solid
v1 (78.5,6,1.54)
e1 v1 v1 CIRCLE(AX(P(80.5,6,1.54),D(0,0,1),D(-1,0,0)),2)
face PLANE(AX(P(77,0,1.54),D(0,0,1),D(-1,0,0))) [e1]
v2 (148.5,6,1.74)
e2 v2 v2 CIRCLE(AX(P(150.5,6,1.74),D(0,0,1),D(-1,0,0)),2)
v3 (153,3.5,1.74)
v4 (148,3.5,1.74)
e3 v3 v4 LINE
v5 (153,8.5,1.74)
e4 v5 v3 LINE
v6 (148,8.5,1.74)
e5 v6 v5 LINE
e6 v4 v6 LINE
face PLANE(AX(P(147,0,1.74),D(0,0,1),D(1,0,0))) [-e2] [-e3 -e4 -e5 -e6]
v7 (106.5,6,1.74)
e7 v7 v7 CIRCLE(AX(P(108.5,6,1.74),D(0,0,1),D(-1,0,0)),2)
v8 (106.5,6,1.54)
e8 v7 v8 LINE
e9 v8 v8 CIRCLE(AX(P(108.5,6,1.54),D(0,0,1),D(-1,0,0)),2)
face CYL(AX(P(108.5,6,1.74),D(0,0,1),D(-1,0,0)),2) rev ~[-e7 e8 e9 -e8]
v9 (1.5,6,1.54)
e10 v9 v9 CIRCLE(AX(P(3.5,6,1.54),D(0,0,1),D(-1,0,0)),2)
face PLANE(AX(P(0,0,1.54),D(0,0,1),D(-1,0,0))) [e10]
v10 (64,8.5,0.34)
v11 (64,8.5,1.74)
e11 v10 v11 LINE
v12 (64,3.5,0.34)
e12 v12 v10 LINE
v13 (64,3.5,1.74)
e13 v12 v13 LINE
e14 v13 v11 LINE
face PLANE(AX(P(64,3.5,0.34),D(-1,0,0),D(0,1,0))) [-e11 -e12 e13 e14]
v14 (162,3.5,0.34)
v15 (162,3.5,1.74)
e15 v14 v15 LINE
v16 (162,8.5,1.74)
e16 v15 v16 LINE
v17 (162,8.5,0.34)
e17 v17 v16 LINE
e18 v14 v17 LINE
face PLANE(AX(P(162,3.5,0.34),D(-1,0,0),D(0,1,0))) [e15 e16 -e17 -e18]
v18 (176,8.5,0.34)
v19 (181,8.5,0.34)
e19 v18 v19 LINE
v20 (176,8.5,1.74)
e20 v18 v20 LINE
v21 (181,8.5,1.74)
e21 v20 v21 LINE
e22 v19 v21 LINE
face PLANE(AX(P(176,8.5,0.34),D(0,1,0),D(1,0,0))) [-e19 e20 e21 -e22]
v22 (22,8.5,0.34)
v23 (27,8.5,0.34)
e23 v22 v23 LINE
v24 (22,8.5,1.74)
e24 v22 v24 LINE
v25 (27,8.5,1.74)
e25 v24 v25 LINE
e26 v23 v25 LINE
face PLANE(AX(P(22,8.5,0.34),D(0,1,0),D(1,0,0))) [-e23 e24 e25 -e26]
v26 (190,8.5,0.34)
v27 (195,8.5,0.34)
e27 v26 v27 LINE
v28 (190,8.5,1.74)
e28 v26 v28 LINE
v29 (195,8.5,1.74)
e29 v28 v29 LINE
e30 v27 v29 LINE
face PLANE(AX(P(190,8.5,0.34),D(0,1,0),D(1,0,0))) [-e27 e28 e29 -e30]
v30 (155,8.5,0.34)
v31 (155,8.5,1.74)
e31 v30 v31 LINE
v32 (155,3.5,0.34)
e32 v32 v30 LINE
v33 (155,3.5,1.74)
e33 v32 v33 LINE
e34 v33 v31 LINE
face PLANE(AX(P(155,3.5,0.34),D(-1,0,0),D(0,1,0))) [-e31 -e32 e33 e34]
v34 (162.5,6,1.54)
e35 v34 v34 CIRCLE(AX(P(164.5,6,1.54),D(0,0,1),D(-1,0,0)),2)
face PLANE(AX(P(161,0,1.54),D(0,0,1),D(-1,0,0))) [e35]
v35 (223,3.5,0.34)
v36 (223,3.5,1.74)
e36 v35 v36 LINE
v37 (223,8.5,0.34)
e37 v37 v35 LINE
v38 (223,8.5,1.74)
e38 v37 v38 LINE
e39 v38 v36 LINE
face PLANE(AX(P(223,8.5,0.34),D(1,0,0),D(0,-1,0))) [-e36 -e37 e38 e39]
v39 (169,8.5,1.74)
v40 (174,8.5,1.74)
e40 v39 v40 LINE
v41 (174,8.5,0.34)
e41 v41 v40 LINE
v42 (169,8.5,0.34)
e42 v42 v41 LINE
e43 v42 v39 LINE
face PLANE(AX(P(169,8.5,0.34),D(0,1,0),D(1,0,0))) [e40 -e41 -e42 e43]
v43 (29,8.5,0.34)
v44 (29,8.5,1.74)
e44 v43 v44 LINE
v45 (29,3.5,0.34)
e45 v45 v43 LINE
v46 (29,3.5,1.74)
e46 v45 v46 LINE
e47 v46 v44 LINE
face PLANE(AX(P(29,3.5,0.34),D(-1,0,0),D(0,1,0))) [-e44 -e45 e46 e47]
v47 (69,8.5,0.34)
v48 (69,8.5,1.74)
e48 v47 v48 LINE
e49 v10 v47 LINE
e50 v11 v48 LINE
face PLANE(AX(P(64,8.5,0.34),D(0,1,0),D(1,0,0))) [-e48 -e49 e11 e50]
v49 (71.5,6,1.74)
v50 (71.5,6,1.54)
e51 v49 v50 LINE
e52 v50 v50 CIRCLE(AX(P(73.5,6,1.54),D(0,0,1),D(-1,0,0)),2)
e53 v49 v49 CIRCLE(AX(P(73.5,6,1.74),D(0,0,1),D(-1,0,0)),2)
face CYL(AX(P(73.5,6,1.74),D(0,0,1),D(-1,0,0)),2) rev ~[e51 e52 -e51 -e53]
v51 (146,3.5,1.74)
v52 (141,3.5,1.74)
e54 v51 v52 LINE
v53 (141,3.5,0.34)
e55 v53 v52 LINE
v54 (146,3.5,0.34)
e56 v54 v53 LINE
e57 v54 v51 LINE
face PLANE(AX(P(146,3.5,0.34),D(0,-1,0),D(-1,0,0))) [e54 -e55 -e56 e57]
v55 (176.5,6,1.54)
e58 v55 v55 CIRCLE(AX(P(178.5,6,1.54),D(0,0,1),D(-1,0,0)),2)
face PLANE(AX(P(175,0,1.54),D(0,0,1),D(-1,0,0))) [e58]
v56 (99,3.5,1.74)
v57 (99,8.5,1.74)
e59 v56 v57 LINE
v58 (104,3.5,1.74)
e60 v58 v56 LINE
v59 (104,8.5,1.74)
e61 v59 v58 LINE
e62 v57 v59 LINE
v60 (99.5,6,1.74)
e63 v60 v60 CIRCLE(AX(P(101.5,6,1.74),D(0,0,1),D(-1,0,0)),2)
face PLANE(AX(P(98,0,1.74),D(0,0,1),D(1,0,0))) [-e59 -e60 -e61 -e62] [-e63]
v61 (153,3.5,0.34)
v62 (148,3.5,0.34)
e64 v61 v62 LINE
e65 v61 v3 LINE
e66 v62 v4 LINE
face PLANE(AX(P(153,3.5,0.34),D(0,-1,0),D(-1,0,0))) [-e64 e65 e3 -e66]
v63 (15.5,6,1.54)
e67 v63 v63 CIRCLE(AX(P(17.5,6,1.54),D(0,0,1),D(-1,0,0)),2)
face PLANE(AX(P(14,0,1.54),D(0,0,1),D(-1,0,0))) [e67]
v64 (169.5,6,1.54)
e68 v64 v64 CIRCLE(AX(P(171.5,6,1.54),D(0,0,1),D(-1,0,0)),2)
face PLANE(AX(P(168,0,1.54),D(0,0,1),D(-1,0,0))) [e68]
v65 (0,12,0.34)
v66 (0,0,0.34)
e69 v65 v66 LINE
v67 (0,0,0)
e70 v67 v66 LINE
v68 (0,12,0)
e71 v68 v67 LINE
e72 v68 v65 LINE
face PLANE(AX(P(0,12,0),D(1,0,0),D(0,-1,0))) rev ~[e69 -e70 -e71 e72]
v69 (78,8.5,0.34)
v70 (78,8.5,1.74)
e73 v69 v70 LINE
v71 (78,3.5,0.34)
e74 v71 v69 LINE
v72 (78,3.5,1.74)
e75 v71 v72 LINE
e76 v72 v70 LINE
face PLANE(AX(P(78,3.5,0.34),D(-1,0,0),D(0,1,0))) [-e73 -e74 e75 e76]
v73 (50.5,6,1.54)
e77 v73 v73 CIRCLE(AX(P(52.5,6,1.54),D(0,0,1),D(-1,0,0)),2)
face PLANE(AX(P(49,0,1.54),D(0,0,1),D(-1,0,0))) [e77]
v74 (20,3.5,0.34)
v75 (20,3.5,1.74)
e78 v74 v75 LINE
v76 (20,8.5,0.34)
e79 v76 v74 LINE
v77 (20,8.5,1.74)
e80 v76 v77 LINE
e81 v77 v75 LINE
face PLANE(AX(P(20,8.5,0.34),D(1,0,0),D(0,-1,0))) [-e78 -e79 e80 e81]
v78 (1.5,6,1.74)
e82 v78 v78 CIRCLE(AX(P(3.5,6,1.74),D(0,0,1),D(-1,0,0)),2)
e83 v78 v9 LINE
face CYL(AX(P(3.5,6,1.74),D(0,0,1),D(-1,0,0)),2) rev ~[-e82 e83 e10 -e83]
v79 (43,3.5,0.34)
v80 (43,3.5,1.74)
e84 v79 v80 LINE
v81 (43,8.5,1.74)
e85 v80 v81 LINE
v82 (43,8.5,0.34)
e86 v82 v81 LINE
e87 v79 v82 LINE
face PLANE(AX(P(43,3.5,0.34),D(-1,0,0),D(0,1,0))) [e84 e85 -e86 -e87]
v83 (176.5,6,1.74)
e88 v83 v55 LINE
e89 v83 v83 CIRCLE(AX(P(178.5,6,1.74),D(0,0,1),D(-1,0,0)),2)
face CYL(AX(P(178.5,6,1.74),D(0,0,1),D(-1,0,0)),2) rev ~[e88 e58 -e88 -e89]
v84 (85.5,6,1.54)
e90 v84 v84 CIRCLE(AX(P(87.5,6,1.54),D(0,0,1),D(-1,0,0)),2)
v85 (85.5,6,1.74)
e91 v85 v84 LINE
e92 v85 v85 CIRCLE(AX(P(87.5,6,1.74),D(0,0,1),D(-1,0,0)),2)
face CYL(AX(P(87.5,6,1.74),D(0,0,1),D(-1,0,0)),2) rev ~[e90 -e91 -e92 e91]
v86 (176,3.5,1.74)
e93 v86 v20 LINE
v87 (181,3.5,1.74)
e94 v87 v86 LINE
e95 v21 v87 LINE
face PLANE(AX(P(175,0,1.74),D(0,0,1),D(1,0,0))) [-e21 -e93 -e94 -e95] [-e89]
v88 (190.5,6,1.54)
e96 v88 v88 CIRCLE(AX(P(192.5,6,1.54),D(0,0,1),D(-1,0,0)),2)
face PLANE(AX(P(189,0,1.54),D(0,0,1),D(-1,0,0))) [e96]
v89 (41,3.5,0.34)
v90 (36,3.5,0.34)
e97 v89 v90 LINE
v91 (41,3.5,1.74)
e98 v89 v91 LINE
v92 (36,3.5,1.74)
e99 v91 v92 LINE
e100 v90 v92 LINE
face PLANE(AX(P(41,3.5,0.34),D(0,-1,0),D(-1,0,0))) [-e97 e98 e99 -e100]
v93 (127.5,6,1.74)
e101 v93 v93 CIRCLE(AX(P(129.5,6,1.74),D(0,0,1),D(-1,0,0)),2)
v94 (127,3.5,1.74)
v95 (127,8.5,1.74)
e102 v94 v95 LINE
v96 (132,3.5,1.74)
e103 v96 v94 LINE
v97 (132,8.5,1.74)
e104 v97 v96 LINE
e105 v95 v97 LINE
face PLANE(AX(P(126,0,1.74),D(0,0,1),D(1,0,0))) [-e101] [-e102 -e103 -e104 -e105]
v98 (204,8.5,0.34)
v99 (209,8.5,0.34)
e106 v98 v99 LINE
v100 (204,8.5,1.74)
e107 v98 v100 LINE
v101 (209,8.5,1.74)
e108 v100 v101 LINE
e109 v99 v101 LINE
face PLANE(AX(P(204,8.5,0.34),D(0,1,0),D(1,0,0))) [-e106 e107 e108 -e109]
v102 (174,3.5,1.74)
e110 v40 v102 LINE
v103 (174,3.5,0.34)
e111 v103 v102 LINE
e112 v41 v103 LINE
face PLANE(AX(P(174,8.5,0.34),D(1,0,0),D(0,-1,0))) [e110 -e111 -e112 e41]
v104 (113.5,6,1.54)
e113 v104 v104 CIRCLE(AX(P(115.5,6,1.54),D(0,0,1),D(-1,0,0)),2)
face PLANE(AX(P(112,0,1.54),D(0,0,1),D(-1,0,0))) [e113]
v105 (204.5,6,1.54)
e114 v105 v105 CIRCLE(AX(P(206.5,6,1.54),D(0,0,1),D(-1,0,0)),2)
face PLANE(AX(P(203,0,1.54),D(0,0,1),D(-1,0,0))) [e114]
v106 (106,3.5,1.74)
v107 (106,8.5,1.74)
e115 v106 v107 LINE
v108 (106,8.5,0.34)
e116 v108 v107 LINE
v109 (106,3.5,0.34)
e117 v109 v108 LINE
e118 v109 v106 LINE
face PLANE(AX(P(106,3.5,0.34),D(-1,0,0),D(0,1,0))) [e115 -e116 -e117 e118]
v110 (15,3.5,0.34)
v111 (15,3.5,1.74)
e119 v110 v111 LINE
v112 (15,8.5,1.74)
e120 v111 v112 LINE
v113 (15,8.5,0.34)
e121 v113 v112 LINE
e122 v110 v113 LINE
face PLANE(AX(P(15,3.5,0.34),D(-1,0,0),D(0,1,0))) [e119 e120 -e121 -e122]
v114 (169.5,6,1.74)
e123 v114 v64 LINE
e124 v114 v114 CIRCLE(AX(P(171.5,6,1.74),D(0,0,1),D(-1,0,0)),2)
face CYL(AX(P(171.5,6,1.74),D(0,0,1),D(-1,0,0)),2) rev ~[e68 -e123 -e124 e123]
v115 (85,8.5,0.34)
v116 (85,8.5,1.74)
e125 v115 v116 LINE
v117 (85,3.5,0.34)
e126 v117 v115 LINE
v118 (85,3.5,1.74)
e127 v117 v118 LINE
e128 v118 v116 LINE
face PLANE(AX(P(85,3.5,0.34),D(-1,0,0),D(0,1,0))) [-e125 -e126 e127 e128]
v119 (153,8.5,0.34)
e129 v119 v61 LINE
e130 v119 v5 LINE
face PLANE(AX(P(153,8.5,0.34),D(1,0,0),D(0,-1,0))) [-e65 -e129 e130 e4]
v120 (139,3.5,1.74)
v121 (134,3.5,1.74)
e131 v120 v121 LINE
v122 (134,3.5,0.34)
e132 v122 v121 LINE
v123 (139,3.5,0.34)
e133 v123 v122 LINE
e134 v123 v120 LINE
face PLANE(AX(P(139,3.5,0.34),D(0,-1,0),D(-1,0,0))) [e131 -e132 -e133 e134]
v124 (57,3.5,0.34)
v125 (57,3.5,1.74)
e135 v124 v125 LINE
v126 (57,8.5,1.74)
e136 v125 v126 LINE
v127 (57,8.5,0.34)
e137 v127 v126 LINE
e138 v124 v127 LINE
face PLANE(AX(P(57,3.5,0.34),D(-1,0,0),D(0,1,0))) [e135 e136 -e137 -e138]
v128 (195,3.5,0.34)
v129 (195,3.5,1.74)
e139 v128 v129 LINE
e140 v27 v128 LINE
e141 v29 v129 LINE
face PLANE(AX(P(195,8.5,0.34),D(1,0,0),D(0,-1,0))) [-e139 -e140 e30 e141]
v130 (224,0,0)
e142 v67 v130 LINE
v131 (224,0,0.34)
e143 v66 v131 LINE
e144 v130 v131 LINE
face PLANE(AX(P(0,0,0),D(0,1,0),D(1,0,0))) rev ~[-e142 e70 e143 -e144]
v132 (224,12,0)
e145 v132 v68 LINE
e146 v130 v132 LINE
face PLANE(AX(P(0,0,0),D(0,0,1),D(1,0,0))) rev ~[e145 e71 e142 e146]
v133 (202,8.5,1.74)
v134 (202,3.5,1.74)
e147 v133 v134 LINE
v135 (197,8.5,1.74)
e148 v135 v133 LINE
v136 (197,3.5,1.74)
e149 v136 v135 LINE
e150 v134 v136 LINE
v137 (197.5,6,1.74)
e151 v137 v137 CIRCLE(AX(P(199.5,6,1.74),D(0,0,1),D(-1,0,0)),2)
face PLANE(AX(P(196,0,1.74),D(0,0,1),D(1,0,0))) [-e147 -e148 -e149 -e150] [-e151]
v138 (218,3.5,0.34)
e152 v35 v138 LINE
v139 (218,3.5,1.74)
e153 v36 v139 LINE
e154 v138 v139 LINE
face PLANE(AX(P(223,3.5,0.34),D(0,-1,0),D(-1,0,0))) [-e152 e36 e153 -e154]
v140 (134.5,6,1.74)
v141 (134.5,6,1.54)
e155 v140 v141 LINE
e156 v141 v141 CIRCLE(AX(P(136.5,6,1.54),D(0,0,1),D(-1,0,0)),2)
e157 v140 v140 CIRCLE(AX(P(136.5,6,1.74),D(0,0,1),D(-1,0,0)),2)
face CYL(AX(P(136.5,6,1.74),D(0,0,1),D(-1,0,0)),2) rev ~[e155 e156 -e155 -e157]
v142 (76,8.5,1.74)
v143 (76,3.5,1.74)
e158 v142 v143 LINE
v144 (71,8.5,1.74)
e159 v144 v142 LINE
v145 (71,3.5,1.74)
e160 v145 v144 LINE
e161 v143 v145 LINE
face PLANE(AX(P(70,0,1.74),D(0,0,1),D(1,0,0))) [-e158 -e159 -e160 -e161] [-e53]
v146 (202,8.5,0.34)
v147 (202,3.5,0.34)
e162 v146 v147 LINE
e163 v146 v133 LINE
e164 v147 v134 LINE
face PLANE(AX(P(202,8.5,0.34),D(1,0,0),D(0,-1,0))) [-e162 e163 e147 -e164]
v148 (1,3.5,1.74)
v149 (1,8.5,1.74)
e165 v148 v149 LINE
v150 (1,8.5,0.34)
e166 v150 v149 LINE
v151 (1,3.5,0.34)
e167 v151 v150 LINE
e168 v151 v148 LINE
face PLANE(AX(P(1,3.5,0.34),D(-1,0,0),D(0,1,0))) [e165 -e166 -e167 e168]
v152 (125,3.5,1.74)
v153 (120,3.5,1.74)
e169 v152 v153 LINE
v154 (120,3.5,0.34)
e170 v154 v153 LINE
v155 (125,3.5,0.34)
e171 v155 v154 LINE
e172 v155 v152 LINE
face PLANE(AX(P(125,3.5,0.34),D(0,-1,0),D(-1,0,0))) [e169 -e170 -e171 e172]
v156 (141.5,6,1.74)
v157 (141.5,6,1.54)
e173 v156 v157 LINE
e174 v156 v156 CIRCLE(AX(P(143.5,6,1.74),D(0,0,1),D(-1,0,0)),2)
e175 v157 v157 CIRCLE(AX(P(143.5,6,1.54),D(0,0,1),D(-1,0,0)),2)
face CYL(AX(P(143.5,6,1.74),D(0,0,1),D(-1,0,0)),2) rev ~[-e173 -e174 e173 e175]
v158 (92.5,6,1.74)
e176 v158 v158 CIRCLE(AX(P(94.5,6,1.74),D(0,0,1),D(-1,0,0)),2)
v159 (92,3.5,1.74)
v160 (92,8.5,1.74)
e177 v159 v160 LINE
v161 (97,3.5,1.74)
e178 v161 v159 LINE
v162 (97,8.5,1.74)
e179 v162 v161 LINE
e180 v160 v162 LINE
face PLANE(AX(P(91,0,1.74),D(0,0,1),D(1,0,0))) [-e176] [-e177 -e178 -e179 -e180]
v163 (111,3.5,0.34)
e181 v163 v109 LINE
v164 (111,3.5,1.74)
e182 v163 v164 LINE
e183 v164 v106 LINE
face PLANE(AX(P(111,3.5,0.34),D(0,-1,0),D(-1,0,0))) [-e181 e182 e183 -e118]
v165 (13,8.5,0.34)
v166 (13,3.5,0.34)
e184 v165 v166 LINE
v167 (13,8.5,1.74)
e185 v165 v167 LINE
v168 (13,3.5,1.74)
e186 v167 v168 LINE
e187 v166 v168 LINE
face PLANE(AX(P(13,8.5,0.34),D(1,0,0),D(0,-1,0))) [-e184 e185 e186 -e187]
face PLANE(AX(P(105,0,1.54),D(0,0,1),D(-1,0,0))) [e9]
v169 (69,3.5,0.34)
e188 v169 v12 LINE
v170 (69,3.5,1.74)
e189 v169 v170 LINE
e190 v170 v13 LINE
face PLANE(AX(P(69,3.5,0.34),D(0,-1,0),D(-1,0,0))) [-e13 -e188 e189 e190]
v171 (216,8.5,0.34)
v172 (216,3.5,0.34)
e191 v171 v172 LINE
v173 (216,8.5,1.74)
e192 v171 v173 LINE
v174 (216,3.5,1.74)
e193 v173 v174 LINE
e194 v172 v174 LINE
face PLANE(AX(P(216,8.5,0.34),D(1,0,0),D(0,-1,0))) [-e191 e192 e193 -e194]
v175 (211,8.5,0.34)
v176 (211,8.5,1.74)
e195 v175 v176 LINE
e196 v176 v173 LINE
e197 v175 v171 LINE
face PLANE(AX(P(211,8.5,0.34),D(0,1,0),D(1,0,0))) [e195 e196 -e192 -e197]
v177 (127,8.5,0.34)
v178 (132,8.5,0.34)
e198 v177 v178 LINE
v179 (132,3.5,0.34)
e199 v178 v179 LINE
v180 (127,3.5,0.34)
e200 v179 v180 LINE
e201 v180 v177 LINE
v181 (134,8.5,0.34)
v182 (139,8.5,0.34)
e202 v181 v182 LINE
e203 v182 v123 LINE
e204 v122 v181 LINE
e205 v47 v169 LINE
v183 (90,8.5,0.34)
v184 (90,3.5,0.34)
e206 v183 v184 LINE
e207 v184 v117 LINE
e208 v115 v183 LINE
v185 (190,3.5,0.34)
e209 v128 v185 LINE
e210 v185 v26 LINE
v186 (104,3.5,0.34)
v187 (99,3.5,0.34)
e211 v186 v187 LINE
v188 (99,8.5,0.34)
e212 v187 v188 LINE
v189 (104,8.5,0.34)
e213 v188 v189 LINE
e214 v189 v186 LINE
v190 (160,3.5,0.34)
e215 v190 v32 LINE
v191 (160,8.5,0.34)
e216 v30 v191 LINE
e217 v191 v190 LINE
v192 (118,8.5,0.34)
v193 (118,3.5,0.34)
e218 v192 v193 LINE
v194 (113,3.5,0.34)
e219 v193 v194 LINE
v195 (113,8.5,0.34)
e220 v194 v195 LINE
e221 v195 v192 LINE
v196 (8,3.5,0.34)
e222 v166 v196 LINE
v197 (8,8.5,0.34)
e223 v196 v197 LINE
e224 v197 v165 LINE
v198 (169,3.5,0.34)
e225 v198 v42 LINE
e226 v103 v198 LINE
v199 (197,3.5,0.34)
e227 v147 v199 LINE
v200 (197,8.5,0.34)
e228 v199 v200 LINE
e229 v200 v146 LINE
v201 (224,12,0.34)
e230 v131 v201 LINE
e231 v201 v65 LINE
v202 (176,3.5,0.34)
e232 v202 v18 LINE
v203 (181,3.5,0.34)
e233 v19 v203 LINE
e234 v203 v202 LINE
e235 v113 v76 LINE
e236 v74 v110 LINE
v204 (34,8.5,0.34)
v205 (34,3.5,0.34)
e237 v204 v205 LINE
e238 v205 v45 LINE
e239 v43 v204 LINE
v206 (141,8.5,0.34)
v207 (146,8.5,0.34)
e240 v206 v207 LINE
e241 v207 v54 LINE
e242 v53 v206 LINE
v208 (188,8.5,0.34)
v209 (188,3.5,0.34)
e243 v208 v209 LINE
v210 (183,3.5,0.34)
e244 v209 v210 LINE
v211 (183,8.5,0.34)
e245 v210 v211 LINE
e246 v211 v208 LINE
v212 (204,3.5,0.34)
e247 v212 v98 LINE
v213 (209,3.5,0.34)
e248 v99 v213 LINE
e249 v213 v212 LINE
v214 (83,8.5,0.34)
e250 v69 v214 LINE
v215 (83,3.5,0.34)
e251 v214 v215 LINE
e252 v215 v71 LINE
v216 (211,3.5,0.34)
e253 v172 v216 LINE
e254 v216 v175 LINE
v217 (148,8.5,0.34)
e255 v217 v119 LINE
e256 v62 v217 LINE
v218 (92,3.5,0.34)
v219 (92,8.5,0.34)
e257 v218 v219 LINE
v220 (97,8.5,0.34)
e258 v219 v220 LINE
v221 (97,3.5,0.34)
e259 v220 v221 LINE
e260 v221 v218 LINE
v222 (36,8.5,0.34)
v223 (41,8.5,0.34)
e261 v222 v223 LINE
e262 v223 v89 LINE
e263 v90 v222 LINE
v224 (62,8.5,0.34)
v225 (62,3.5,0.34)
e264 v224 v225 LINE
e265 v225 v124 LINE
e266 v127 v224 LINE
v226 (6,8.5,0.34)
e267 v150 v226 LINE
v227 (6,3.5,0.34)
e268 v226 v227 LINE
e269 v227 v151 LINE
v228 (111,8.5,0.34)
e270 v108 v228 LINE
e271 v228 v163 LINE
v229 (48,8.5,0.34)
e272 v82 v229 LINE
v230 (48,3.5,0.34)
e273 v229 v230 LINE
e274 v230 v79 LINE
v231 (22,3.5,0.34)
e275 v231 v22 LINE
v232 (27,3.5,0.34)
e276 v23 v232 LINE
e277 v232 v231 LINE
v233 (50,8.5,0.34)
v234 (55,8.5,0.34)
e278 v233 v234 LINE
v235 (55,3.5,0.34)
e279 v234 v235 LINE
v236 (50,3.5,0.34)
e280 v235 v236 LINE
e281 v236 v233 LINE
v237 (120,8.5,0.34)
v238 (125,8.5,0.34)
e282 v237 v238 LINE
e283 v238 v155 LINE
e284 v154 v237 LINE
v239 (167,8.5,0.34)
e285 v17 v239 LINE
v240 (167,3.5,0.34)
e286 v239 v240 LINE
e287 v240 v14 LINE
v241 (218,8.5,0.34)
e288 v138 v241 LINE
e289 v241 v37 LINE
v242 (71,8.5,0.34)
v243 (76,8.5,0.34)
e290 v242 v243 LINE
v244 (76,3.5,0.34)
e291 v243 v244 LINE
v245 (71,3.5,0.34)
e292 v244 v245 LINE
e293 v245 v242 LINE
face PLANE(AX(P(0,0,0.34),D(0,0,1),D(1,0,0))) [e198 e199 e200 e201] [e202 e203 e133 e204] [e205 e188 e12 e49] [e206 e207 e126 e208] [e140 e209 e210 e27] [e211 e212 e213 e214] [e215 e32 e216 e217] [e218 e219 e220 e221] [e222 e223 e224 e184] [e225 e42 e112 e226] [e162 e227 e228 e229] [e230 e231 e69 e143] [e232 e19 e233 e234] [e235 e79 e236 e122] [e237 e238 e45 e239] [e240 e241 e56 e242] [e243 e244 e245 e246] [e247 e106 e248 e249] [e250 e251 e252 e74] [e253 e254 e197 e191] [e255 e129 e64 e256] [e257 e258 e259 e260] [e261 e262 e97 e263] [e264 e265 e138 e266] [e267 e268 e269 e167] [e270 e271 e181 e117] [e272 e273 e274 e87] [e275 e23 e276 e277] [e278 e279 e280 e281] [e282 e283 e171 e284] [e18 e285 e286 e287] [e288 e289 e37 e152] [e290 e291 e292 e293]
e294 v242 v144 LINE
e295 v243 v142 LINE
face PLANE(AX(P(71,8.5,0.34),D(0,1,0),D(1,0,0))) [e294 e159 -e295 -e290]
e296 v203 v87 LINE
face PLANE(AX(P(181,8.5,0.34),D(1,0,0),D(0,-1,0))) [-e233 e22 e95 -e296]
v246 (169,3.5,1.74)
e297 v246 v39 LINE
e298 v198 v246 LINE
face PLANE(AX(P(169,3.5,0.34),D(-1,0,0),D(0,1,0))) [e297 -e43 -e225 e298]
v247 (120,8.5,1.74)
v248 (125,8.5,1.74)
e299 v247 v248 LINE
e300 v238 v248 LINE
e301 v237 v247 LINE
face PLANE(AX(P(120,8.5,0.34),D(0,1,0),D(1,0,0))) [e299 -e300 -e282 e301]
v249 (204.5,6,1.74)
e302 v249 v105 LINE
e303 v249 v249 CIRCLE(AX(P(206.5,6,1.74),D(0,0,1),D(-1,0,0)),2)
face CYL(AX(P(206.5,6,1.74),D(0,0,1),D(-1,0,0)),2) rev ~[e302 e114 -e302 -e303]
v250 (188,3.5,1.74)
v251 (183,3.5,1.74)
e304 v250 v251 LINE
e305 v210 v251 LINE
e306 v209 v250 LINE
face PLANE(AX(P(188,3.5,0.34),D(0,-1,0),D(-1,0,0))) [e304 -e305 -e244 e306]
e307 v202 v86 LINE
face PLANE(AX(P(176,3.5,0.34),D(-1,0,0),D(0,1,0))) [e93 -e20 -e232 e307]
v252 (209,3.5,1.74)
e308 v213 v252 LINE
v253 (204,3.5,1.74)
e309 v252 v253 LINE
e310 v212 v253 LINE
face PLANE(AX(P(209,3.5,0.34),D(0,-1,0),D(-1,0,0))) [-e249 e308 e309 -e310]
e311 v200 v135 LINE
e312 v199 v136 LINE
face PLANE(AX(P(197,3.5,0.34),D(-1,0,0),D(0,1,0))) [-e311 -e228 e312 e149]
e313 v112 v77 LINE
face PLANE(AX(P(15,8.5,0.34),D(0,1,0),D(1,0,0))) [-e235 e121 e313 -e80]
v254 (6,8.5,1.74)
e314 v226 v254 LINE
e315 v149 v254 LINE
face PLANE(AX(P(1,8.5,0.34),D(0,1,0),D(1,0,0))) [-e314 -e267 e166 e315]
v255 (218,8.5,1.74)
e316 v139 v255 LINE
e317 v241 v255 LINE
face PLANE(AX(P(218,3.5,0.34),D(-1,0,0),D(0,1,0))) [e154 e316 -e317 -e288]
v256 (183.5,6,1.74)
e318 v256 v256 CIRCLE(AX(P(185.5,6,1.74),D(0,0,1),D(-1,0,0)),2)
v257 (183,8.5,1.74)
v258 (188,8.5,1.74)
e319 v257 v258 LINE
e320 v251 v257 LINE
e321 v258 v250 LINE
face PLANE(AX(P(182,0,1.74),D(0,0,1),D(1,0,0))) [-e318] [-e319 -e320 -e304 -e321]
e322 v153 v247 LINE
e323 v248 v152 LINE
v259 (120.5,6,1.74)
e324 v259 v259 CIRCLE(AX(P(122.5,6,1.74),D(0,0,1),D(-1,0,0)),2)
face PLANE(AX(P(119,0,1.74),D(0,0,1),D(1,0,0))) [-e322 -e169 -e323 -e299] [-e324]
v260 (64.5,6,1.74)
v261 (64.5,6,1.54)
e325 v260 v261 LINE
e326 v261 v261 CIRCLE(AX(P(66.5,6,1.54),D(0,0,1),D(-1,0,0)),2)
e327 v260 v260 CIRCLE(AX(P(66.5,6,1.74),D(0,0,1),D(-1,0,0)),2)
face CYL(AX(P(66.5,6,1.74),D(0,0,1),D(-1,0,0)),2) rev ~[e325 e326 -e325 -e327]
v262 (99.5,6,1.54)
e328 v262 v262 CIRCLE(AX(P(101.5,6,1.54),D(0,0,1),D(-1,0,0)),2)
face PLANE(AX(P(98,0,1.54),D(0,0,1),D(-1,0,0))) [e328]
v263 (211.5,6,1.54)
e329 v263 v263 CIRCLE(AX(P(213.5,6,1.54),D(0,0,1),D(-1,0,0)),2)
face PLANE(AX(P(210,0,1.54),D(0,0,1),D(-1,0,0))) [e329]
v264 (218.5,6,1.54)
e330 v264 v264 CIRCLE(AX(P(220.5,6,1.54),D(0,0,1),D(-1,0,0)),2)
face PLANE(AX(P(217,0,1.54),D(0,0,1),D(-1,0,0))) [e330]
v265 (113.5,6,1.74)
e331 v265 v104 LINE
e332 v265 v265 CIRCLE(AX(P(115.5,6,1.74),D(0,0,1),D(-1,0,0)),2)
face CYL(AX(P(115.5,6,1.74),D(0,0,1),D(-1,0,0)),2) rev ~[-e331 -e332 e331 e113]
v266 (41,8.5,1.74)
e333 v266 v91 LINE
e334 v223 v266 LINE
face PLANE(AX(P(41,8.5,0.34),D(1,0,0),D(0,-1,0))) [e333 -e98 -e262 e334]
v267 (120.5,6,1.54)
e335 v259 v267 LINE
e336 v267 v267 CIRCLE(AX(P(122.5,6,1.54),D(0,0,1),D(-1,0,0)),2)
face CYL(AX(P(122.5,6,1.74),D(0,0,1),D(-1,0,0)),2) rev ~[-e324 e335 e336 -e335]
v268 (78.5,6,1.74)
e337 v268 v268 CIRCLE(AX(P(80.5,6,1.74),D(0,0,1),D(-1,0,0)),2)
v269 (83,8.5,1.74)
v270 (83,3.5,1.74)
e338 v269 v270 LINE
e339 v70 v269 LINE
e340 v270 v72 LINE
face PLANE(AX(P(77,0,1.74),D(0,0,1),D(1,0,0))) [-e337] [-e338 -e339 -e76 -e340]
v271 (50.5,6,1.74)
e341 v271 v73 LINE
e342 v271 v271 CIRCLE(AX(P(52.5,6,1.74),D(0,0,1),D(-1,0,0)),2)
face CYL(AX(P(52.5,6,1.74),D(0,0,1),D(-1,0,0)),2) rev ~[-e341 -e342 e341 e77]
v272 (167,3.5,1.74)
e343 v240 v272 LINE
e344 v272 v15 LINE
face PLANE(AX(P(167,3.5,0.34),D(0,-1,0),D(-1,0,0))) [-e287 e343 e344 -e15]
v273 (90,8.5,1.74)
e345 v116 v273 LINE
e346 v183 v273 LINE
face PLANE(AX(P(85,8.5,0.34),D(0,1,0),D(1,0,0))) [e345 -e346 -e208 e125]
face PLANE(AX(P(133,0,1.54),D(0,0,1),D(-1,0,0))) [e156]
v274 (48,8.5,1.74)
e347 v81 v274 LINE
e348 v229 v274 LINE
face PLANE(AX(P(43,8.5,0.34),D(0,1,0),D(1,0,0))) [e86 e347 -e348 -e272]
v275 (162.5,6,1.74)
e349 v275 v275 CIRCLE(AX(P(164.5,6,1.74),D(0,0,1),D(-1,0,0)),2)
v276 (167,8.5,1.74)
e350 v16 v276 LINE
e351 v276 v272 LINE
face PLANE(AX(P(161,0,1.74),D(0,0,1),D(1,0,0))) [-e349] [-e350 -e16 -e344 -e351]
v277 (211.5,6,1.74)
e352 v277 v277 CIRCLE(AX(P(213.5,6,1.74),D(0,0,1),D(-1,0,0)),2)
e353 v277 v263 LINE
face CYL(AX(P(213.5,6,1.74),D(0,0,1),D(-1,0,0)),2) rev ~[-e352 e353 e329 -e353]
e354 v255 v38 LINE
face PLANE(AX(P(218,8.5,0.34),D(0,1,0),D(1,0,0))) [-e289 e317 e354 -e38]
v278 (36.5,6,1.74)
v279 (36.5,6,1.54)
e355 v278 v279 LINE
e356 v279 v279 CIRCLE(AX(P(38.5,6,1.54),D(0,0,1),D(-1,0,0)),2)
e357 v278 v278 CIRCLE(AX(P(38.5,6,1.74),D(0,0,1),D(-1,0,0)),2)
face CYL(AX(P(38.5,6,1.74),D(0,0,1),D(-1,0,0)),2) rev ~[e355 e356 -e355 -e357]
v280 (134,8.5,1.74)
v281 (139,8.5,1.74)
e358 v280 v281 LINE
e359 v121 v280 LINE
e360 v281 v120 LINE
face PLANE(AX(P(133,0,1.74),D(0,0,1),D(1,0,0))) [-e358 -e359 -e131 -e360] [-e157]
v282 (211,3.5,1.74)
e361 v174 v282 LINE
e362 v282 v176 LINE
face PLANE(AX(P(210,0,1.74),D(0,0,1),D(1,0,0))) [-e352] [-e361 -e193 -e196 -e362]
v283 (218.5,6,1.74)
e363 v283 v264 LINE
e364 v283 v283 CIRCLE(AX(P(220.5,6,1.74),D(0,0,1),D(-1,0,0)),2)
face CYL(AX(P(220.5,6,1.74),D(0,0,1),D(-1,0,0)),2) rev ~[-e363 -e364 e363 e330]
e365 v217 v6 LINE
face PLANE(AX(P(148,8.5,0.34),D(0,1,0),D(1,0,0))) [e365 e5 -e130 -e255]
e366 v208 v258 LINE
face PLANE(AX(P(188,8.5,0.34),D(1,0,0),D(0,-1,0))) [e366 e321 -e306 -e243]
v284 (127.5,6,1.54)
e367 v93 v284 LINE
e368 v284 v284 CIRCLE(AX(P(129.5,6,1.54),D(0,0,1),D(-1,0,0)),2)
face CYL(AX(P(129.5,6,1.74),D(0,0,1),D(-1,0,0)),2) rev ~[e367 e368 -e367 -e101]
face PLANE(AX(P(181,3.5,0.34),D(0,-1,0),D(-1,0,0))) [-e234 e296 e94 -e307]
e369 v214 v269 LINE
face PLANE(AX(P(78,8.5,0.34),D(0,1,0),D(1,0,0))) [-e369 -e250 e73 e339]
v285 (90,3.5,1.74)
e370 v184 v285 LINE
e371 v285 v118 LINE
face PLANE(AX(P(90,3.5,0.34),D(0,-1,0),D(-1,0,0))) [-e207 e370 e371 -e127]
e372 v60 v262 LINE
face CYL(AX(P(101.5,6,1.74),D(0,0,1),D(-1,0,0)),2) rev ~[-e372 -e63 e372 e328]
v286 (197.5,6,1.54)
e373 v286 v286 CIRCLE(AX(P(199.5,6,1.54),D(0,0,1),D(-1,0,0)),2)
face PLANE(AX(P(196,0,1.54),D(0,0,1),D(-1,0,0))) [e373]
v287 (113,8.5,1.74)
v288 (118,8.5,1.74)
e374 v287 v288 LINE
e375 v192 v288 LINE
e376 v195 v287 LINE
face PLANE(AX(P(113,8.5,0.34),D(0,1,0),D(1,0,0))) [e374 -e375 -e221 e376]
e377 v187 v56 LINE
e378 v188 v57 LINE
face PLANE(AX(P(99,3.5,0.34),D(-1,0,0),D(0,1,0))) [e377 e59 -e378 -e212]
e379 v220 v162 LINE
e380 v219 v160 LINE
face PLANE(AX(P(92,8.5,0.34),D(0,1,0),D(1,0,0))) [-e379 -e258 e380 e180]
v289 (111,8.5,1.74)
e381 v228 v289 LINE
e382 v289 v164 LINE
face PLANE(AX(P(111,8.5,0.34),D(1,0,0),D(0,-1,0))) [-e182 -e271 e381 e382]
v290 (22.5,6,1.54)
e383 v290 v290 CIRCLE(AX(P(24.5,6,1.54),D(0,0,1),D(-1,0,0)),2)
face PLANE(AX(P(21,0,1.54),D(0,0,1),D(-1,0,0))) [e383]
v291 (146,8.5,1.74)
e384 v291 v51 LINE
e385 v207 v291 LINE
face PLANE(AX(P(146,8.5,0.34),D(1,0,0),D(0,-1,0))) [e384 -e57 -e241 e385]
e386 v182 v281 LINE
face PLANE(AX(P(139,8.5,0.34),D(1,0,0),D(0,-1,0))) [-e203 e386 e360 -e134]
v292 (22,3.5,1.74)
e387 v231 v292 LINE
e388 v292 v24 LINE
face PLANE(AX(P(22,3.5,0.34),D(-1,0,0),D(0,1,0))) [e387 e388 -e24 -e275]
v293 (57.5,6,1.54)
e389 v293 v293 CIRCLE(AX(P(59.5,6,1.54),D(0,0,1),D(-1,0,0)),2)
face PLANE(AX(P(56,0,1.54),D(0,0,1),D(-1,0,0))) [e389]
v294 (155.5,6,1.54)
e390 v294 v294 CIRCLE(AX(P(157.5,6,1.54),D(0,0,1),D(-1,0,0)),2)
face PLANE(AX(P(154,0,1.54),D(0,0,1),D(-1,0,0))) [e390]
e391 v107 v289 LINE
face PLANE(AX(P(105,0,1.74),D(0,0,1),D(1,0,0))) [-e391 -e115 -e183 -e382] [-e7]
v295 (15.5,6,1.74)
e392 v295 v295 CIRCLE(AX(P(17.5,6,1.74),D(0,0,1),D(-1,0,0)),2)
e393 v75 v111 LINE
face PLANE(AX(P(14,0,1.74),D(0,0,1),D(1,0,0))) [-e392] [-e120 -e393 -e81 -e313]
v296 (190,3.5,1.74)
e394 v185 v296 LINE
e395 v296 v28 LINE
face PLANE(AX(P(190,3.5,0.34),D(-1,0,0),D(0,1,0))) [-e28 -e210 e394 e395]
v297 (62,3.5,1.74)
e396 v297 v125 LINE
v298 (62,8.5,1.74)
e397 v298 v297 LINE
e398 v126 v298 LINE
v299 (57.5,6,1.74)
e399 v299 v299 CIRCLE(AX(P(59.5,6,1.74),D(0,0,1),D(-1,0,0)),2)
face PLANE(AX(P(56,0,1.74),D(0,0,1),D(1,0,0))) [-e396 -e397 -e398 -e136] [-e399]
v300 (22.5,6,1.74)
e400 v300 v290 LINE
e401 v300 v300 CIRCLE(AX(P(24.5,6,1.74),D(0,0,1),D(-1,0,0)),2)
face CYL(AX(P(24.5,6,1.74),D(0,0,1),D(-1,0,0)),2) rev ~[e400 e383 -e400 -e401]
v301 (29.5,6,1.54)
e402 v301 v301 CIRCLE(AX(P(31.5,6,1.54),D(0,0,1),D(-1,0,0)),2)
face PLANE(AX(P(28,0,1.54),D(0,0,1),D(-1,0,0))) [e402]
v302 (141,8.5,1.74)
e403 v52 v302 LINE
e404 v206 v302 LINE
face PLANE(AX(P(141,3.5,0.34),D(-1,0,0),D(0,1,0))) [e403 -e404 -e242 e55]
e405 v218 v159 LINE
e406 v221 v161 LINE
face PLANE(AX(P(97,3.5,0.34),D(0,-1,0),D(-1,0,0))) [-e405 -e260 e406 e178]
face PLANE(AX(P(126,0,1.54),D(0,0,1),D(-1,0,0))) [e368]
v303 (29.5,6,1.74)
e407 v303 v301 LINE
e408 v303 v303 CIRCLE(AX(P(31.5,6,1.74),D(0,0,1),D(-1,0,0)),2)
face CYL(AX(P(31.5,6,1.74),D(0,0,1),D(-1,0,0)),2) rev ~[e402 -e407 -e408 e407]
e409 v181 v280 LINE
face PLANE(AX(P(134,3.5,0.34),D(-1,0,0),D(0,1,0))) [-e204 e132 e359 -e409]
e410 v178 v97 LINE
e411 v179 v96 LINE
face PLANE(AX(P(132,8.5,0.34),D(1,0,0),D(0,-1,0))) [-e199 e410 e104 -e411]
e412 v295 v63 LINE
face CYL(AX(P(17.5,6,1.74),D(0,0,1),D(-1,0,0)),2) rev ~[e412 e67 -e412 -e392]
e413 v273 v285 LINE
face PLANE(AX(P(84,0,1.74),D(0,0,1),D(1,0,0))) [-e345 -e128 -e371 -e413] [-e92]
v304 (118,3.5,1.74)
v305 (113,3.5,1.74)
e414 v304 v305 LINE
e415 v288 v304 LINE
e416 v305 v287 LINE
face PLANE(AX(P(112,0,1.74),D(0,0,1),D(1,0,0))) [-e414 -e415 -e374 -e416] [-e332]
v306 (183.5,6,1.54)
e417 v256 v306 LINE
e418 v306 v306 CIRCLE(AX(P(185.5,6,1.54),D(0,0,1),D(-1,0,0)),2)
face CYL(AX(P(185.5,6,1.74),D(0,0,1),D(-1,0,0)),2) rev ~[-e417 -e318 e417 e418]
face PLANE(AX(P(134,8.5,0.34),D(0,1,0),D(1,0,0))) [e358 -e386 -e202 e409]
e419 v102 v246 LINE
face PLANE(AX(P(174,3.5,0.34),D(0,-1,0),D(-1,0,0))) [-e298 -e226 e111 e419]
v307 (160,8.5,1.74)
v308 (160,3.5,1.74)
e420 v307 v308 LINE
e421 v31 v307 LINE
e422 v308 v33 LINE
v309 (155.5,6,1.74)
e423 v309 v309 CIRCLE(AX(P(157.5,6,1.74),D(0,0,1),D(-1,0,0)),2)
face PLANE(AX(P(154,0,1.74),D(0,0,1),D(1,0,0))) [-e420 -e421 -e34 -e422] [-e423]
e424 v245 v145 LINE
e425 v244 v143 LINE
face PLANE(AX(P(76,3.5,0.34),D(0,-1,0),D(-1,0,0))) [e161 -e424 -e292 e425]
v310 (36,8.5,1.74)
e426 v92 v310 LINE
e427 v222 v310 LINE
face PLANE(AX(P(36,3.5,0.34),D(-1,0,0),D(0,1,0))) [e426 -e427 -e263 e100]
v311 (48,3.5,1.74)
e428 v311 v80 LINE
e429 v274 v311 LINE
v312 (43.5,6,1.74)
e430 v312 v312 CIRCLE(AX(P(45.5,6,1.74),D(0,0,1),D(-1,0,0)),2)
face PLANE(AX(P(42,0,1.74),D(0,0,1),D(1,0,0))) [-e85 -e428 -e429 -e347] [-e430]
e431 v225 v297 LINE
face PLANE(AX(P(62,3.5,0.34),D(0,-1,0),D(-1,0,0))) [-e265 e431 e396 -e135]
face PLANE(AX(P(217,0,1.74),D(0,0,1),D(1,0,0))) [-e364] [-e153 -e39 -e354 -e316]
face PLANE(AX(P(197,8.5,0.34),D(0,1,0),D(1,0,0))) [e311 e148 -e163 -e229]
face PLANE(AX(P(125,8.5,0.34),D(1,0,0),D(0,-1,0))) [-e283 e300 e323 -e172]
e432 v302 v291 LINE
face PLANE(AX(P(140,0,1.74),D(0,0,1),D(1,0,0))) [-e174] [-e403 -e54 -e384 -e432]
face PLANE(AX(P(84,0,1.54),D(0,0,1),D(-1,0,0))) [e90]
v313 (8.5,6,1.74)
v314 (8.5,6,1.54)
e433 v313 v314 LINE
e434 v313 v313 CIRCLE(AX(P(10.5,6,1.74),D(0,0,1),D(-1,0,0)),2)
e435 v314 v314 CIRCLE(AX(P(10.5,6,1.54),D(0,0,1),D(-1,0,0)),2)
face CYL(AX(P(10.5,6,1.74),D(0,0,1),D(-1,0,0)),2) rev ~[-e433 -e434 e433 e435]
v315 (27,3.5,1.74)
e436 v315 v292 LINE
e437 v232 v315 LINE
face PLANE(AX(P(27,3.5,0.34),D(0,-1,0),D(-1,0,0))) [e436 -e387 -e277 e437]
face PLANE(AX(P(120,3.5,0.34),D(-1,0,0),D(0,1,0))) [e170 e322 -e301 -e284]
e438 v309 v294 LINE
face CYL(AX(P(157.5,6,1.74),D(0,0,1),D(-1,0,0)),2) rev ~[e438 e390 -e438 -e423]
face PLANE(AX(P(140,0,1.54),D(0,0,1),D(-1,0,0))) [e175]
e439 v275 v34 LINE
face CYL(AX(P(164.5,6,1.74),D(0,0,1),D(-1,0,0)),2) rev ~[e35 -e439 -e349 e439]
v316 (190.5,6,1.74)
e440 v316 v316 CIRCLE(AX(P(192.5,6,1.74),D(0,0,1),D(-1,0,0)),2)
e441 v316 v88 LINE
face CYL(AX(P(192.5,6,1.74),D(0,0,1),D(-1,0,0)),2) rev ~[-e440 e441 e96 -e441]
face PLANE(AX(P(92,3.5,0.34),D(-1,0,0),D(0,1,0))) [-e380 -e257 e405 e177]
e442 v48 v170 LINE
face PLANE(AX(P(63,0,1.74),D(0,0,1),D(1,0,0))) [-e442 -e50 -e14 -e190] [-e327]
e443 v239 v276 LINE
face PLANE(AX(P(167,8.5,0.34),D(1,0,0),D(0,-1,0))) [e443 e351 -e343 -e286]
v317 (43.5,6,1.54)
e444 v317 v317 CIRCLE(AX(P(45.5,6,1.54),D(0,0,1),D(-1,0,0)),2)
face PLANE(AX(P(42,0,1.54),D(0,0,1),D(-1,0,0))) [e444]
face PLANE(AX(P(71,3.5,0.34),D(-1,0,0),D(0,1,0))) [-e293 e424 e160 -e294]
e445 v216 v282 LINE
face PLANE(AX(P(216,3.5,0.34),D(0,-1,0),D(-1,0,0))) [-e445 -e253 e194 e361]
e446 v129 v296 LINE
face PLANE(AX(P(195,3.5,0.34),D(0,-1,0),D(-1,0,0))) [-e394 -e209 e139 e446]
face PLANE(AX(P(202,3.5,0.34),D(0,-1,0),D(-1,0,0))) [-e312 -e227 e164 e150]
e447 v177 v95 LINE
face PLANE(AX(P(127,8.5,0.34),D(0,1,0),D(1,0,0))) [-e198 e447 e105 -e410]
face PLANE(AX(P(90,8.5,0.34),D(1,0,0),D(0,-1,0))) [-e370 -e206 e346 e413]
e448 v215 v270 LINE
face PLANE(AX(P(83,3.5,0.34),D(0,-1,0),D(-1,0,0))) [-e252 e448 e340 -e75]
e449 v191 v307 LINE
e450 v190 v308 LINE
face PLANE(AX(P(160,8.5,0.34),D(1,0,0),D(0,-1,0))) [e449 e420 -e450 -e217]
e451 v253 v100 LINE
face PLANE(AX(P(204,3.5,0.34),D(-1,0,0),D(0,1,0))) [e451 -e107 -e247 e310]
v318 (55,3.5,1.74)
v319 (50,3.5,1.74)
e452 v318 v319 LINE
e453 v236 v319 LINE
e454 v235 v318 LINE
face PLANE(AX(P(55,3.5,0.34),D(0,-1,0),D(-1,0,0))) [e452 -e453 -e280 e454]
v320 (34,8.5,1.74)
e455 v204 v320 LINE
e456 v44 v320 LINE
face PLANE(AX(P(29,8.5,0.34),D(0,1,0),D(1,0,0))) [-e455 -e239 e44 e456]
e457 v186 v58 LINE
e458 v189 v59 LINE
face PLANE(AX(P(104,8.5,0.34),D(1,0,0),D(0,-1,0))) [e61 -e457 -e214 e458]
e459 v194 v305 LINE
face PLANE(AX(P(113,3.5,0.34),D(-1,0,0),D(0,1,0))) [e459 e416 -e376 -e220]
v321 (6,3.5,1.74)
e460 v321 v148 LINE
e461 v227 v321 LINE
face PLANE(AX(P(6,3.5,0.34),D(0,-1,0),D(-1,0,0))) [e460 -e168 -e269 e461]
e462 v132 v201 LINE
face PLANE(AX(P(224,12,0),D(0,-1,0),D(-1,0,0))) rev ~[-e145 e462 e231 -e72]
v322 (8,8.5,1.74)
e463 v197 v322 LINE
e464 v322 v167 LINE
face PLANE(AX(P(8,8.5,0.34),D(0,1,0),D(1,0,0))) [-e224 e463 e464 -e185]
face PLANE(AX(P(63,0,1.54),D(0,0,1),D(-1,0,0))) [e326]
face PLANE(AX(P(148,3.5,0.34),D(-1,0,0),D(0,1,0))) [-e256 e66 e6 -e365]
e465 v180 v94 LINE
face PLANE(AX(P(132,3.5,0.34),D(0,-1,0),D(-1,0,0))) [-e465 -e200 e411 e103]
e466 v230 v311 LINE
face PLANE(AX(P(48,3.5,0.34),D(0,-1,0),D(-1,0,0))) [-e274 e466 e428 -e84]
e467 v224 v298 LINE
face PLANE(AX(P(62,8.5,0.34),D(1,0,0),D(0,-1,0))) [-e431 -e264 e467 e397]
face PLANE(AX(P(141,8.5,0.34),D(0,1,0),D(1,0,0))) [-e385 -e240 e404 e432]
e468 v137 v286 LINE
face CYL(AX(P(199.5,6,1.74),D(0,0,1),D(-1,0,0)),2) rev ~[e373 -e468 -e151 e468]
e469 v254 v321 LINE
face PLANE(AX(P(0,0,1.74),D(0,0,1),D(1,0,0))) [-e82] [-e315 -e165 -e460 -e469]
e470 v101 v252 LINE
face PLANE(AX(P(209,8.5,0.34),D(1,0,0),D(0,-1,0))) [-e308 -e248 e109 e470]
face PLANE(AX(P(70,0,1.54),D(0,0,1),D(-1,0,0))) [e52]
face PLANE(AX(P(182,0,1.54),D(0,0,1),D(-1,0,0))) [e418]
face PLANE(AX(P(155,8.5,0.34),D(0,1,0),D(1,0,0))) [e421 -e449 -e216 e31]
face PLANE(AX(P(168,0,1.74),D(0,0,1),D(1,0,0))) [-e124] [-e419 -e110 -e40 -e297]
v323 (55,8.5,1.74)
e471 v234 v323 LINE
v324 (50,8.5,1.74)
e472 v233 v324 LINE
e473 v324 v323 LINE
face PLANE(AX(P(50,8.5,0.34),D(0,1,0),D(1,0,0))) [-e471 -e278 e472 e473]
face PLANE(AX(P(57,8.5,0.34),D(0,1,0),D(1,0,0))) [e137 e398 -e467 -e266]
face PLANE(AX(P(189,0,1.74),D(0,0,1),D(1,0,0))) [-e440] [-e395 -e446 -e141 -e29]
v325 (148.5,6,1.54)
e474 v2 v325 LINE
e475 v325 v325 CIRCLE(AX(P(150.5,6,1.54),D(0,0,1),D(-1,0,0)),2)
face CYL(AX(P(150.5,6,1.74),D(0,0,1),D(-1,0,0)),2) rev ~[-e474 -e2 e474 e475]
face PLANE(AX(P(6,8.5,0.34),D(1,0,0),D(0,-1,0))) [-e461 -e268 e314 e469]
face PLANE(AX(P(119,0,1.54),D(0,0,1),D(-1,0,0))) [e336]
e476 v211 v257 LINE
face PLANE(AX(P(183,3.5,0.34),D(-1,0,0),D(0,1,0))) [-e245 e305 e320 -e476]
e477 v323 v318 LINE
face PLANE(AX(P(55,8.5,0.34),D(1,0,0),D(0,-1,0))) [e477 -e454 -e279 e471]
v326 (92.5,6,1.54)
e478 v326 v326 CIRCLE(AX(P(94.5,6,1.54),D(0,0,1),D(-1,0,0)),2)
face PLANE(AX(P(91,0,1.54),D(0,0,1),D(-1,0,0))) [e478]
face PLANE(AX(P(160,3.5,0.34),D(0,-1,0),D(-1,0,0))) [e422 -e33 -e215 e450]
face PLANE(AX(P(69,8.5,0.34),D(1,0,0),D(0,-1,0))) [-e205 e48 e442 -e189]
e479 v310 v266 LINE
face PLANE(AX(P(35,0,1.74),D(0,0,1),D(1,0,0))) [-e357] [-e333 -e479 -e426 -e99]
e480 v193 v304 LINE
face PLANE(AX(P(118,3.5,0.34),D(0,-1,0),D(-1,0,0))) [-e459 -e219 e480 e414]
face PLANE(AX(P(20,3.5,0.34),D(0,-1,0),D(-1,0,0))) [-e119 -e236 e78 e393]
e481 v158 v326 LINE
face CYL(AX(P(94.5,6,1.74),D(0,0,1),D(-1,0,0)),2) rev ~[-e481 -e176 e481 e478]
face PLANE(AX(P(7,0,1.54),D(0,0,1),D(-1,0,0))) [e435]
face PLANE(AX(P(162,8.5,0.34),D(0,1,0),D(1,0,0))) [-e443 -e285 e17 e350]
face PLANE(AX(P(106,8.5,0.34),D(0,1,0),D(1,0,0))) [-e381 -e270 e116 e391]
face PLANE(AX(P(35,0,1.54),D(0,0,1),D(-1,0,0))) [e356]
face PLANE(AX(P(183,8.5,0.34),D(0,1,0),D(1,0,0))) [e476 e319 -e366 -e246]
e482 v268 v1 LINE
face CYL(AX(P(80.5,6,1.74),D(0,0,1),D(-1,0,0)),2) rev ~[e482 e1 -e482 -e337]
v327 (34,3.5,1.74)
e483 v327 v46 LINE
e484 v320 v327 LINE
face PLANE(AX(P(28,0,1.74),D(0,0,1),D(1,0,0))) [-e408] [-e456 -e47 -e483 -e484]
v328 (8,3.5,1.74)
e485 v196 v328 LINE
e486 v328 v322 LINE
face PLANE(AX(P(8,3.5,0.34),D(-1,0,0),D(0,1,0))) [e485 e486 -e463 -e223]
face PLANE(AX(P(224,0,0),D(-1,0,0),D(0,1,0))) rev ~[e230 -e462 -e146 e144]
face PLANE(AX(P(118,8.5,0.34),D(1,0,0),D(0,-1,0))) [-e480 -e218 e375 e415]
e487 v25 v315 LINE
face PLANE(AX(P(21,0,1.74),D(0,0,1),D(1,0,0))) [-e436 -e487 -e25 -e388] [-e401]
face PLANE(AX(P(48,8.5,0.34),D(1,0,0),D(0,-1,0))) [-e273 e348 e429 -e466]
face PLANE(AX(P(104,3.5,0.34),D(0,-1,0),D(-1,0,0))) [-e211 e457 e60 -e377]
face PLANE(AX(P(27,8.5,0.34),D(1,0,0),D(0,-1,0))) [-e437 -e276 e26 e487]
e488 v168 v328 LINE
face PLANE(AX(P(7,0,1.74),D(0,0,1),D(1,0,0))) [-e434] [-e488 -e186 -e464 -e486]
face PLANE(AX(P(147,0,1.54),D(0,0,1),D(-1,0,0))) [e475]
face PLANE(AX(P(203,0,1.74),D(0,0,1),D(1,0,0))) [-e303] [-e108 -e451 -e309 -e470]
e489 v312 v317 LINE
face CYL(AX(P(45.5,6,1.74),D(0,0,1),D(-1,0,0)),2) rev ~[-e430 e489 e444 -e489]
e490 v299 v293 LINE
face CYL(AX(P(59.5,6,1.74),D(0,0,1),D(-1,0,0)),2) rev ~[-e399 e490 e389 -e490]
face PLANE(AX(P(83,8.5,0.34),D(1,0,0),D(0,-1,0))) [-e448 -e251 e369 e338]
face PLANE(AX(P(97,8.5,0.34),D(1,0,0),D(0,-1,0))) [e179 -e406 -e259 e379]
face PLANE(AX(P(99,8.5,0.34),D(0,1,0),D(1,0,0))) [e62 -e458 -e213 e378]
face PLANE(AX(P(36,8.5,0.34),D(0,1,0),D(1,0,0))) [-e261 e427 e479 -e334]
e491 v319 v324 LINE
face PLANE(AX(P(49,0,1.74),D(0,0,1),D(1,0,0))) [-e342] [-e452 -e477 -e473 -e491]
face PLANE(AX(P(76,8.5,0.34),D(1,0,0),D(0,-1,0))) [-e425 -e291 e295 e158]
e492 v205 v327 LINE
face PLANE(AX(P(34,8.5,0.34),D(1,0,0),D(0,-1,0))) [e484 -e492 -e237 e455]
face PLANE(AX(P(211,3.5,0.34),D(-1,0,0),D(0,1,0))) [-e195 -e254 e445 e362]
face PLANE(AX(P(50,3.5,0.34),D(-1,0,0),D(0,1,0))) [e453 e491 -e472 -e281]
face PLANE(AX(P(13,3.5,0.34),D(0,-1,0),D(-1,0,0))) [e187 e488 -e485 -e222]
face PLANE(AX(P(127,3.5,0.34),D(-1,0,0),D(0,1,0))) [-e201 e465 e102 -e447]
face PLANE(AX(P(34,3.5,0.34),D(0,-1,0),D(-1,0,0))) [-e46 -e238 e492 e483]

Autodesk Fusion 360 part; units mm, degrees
sketch "pixels" plane through (0, 0, 0) normal (0, 0, 1) x (1, 0, 0)
  line L0 (0, 0) -> (224, 0)
  line L1 (224, 0) -> (224, 12)
  line L2 (224, 12) -> (0, 12)
  line L3 (0, 12) -> (0, 0)
  line L4 (0, 6) -> (224, 6) construction
  line L5 (6, 3.5) -> (1, 3.5)
  line L6 (1, 3.5) -> (1, 8.5)
  line L7 (1, 8.5) -> (6, 8.5)
  line L8 (6, 8.5) -> (6, 3.5)
  line L9 (6, 3.5) -> (1, 8.5) construction
  line L10 (1, 3.5) -> (6, 8.5) construction
  line L11 (13, 3.5) -> (8, 3.5)
  line L12 (8, 3.5) -> (8, 8.5)
  line L13 (8, 8.5) -> (13, 8.5)
  line L14 (13, 8.5) -> (13, 3.5)
  line L15 (20, 3.5) -> (15, 3.5)
  line L16 (15, 3.5) -> (15, 8.5)
  line L17 (15, 8.5) -> (20, 8.5)
  line L18 (20, 8.5) -> (20, 3.5)
  line L19 (27, 3.5) -> (22, 3.5)
  line L20 (22, 3.5) -> (22, 8.5)
  line L21 (22, 8.5) -> (27, 8.5)
  line L22 (27, 8.5) -> (27, 3.5)
  line L23 (34, 3.5) -> (29, 3.5)
  line L24 (29, 3.5) -> (29, 8.5)
  line L25 (29, 8.5) -> (34, 8.5)
  line L26 (34, 8.5) -> (34, 3.5)
  line L27 (41, 3.5) -> (36, 3.5)
  line L28 (36, 3.5) -> (36, 8.5)
  line L29 (36, 8.5) -> (41, 8.5)
  line L30 (41, 8.5) -> (41, 3.5)
  line L31 (48, 3.5) -> (43, 3.5)
  line L32 (43, 3.5) -> (43, 8.5)
  line L33 (43, 8.5) -> (48, 8.5)
  line L34 (48, 8.5) -> (48, 3.5)
  line L35 (55, 3.5) -> (50, 3.5)
  line L36 (50, 3.5) -> (50, 8.5)
  line L37 (50, 8.5) -> (55, 8.5)
  line L38 (55, 8.5) -> (55, 3.5)
  line L39 (62, 3.5) -> (57, 3.5)
  line L40 (57, 3.5) -> (57, 8.5)
  line L41 (57, 8.5) -> (62, 8.5)
  line L42 (62, 8.5) -> (62, 3.5)
  line L43 (69, 3.5) -> (64, 3.5)
  line L44 (64, 3.5) -> (64, 8.5)
  line L45 (64, 8.5) -> (69, 8.5)
  line L46 (69, 8.5) -> (69, 3.5)
  line L47 (76, 3.5) -> (71, 3.5)
  line L48 (71, 3.5) -> (71, 8.5)
  line L49 (71, 8.5) -> (76, 8.5)
  line L50 (76, 8.5) -> (76, 3.5)
  line L51 (83, 3.5) -> (78, 3.5)
  line L52 (78, 3.5) -> (78, 8.5)
  line L53 (78, 8.5) -> (83, 8.5)
  line L54 (83, 8.5) -> (83, 3.5)
  line L55 (90, 3.5) -> (85, 3.5)
  line L56 (85, 3.5) -> (85, 8.5)
  line L57 (85, 8.5) -> (90, 8.5)
  line L58 (90, 8.5) -> (90, 3.5)
  line L59 (97, 3.5) -> (92, 3.5)
  line L60 (92, 3.5) -> (92, 8.5)
  line L61 (92, 8.5) -> (97, 8.5)
  line L62 (97, 8.5) -> (97, 3.5)
  line L63 (104, 3.5) -> (99, 3.5)
  line L64 (99, 3.5) -> (99, 8.5)
  line L65 (99, 8.5) -> (104, 8.5)
  line L66 (104, 8.5) -> (104, 3.5)
  line L67 (111, 3.5) -> (106, 3.5)
  line L68 (106, 3.5) -> (106, 8.5)
  line L69 (106, 8.5) -> (111, 8.5)
  line L70 (111, 8.5) -> (111, 3.5)
  line L71 (118, 3.5) -> (113, 3.5)
  line L72 (113, 3.5) -> (113, 8.5)
  line L73 (113, 8.5) -> (118, 8.5)
  line L74 (118, 8.5) -> (118, 3.5)
  line L75 (125, 3.5) -> (120, 3.5)
  line L76 (120, 3.5) -> (120, 8.5)
  line L77 (120, 8.5) -> (125, 8.5)
  line L78 (125, 8.5) -> (125, 3.5)
  line L79 (132, 3.5) -> (127, 3.5)
  line L80 (127, 3.5) -> (127, 8.5)
  line L81 (127, 8.5) -> (132, 8.5)
  line L82 (132, 8.5) -> (132, 3.5)
  line L83 (139, 3.5) -> (134, 3.5)
  line L84 (134, 3.5) -> (134, 8.5)
  line L85 (134, 8.5) -> (139, 8.5)
  line L86 (139, 8.5) -> (139, 3.5)
  line L87 (146, 3.5) -> (141, 3.5)
  line L88 (141, 3.5) -> (141, 8.5)
  line L89 (141, 8.5) -> (146, 8.5)
  line L90 (146, 8.5) -> (146, 3.5)
  line L91 (153, 3.5) -> (148, 3.5)
  line L92 (148, 3.5) -> (148, 8.5)
  line L93 (148, 8.5) -> (153, 8.5)
  line L94 (153, 8.5) -> (153, 3.5)
  line L95 (160, 3.5) -> (155, 3.5)
  line L96 (155, 3.5) -> (155, 8.5)
  line L97 (155, 8.5) -> (160, 8.5)
  line L98 (160, 8.5) -> (160, 3.5)
  line L99 (167, 3.5) -> (162, 3.5)
  line L100 (162, 3.5) -> (162, 8.5)
  line L101 (162, 8.5) -> (167, 8.5)
  line L102 (167, 8.5) -> (167, 3.5)
  line L103 (174, 3.5) -> (169, 3.5)
  line L104 (169, 3.5) -> (169, 8.5)
  line L105 (169, 8.5) -> (174, 8.5)
  line L106 (174, 8.5) -> (174, 3.5)
  line L107 (181, 3.5) -> (176, 3.5)
  line L108 (176, 3.5) -> (176, 8.5)
  line L109 (176, 8.5) -> (181, 8.5)
  line L110 (181, 8.5) -> (181, 3.5)
  line L111 (188, 3.5) -> (183, 3.5)
  line L112 (183, 3.5) -> (183, 8.5)
  line L113 (183, 8.5) -> (188, 8.5)
  line L114 (188, 8.5) -> (188, 3.5)
  line L115 (195, 3.5) -> (190, 3.5)
  line L116 (190, 3.5) -> (190, 8.5)
  line L117 (190, 8.5) -> (195, 8.5)
  line L118 (195, 8.5) -> (195, 3.5)
  line L119 (202, 3.5) -> (197, 3.5)
  line L120 (197, 3.5) -> (197, 8.5)
  line L121 (197, 8.5) -> (202, 8.5)
  line L122 (202, 8.5) -> (202, 3.5)
  line L123 (209, 3.5) -> (204, 3.5)
  line L124 (204, 3.5) -> (204, 8.5)
  line L125 (204, 8.5) -> (209, 8.5)
  line L126 (209, 8.5) -> (209, 3.5)
  line L127 (216, 3.5) -> (211, 3.5)
  line L128 (211, 3.5) -> (211, 8.5)
  line L129 (211, 8.5) -> (216, 8.5)
  line L130 (216, 8.5) -> (216, 3.5)
  line L131 (223, 3.5) -> (218, 3.5)
  line L132 (218, 3.5) -> (218, 8.5)
  line L133 (218, 8.5) -> (223, 8.5)
  line L134 (223, 8.5) -> (223, 3.5)
  point P0 (3.5, 6)
  dimension "d4" = 224
  dimension "d5" = 12
  dimension "d6" = 5
  dimension "d7" = 5
  dimension "d8" = 3.5
  dimension "d11" = 7
  dimension "d12" = 0
extrude "Extrude1" add sketch "pixels" along normal blind 0.34 contours L0 L1 L2 L3 | L5 L6 L7 L8 | L11 L12 L13 L14 | L15 L16 L17 L18 | L19 L20 L21 L22 | L23 L24 L25 L26 | L27 L28 L29 L30 | L31 L32 L33 L34 | L35 L36 L37 L38 | L39 L40 L41 L42 | L43 L44 L45 L46 | L47 L48 L49 L50 | L51 L52 L53 L54 | L55 L56 L57 L58 | L59 L60 L61 L62 | L63 L64 L65 L66 | L67 L68 L69 L70 | L71 L72 L73 L74 | L75 L76 L77 L78 | L79 L80 L81 L82 | L83 L84 L85 L86 | L87 L88 L89 L90 | L91 L92 L93 L94 | L95 L96 L97 L98 | L99 L100 L101 L102 | L103 L104 L105 L106 | L107 L108 L109 L110 | L111 L112 L113 L114 | L115 L116 L117 L118 | L119 L120 L121 L122 | L123 L124 L125 L126 | L127 L128 L129 L130 | L131 L132 L133 L134
extrude "Extrude2" add sketch "pixels" along normal blind 1.4 from surface at 0.34 contours L5 L6 L7 L8
pattern_linear "R-Pattern2" count 32 spacing 7 along (1, 0, 0) of "Extrude2"
sketch "circles" plane through (0, 0, 1.74) normal (0, 0, 1) x (-1, 0, 0)
  line L0 (-6, -8.5) -> (-1, -8.5)
  line L1 (-1, -8.5) -> (-1, -3.5)
  line L2 (-1, -3.5) -> (-6, -3.5)
  line L3 (-6, -3.5) -> (-6, -8.5)
  line L4 (-1, -6) -> (-6, -6) construction
  line L5 (-3.5, -8.5) -> (-3.5, -3.5) construction
  circle A0 centre (-3.5, -6) radius 2
  dimension "d20" = 4
extrude "Extrude3" cut sketch "circles" against normal blind 0.2 contours A0
pattern_linear "R-Pattern1" count 32 spacing 7 along (1, 0, 0) of "Extrude3"
equation "width = 12 mm"
equation "thickness = 0.34 mm"
equation "pixels = 32"
equation "d4 = pixels * pitch"
equation "d5 = width"
equation "d8 = pitch / 2"
equation "d9 = pixels"
equation "d11 = pitch"
equation "d13 = thickness"
equation "d21 = pixels"
equation "d23 = -pitch"
equation "pitch = 7 mm"
equation "d30 = pixels"
equation "d32 = -pitch"
